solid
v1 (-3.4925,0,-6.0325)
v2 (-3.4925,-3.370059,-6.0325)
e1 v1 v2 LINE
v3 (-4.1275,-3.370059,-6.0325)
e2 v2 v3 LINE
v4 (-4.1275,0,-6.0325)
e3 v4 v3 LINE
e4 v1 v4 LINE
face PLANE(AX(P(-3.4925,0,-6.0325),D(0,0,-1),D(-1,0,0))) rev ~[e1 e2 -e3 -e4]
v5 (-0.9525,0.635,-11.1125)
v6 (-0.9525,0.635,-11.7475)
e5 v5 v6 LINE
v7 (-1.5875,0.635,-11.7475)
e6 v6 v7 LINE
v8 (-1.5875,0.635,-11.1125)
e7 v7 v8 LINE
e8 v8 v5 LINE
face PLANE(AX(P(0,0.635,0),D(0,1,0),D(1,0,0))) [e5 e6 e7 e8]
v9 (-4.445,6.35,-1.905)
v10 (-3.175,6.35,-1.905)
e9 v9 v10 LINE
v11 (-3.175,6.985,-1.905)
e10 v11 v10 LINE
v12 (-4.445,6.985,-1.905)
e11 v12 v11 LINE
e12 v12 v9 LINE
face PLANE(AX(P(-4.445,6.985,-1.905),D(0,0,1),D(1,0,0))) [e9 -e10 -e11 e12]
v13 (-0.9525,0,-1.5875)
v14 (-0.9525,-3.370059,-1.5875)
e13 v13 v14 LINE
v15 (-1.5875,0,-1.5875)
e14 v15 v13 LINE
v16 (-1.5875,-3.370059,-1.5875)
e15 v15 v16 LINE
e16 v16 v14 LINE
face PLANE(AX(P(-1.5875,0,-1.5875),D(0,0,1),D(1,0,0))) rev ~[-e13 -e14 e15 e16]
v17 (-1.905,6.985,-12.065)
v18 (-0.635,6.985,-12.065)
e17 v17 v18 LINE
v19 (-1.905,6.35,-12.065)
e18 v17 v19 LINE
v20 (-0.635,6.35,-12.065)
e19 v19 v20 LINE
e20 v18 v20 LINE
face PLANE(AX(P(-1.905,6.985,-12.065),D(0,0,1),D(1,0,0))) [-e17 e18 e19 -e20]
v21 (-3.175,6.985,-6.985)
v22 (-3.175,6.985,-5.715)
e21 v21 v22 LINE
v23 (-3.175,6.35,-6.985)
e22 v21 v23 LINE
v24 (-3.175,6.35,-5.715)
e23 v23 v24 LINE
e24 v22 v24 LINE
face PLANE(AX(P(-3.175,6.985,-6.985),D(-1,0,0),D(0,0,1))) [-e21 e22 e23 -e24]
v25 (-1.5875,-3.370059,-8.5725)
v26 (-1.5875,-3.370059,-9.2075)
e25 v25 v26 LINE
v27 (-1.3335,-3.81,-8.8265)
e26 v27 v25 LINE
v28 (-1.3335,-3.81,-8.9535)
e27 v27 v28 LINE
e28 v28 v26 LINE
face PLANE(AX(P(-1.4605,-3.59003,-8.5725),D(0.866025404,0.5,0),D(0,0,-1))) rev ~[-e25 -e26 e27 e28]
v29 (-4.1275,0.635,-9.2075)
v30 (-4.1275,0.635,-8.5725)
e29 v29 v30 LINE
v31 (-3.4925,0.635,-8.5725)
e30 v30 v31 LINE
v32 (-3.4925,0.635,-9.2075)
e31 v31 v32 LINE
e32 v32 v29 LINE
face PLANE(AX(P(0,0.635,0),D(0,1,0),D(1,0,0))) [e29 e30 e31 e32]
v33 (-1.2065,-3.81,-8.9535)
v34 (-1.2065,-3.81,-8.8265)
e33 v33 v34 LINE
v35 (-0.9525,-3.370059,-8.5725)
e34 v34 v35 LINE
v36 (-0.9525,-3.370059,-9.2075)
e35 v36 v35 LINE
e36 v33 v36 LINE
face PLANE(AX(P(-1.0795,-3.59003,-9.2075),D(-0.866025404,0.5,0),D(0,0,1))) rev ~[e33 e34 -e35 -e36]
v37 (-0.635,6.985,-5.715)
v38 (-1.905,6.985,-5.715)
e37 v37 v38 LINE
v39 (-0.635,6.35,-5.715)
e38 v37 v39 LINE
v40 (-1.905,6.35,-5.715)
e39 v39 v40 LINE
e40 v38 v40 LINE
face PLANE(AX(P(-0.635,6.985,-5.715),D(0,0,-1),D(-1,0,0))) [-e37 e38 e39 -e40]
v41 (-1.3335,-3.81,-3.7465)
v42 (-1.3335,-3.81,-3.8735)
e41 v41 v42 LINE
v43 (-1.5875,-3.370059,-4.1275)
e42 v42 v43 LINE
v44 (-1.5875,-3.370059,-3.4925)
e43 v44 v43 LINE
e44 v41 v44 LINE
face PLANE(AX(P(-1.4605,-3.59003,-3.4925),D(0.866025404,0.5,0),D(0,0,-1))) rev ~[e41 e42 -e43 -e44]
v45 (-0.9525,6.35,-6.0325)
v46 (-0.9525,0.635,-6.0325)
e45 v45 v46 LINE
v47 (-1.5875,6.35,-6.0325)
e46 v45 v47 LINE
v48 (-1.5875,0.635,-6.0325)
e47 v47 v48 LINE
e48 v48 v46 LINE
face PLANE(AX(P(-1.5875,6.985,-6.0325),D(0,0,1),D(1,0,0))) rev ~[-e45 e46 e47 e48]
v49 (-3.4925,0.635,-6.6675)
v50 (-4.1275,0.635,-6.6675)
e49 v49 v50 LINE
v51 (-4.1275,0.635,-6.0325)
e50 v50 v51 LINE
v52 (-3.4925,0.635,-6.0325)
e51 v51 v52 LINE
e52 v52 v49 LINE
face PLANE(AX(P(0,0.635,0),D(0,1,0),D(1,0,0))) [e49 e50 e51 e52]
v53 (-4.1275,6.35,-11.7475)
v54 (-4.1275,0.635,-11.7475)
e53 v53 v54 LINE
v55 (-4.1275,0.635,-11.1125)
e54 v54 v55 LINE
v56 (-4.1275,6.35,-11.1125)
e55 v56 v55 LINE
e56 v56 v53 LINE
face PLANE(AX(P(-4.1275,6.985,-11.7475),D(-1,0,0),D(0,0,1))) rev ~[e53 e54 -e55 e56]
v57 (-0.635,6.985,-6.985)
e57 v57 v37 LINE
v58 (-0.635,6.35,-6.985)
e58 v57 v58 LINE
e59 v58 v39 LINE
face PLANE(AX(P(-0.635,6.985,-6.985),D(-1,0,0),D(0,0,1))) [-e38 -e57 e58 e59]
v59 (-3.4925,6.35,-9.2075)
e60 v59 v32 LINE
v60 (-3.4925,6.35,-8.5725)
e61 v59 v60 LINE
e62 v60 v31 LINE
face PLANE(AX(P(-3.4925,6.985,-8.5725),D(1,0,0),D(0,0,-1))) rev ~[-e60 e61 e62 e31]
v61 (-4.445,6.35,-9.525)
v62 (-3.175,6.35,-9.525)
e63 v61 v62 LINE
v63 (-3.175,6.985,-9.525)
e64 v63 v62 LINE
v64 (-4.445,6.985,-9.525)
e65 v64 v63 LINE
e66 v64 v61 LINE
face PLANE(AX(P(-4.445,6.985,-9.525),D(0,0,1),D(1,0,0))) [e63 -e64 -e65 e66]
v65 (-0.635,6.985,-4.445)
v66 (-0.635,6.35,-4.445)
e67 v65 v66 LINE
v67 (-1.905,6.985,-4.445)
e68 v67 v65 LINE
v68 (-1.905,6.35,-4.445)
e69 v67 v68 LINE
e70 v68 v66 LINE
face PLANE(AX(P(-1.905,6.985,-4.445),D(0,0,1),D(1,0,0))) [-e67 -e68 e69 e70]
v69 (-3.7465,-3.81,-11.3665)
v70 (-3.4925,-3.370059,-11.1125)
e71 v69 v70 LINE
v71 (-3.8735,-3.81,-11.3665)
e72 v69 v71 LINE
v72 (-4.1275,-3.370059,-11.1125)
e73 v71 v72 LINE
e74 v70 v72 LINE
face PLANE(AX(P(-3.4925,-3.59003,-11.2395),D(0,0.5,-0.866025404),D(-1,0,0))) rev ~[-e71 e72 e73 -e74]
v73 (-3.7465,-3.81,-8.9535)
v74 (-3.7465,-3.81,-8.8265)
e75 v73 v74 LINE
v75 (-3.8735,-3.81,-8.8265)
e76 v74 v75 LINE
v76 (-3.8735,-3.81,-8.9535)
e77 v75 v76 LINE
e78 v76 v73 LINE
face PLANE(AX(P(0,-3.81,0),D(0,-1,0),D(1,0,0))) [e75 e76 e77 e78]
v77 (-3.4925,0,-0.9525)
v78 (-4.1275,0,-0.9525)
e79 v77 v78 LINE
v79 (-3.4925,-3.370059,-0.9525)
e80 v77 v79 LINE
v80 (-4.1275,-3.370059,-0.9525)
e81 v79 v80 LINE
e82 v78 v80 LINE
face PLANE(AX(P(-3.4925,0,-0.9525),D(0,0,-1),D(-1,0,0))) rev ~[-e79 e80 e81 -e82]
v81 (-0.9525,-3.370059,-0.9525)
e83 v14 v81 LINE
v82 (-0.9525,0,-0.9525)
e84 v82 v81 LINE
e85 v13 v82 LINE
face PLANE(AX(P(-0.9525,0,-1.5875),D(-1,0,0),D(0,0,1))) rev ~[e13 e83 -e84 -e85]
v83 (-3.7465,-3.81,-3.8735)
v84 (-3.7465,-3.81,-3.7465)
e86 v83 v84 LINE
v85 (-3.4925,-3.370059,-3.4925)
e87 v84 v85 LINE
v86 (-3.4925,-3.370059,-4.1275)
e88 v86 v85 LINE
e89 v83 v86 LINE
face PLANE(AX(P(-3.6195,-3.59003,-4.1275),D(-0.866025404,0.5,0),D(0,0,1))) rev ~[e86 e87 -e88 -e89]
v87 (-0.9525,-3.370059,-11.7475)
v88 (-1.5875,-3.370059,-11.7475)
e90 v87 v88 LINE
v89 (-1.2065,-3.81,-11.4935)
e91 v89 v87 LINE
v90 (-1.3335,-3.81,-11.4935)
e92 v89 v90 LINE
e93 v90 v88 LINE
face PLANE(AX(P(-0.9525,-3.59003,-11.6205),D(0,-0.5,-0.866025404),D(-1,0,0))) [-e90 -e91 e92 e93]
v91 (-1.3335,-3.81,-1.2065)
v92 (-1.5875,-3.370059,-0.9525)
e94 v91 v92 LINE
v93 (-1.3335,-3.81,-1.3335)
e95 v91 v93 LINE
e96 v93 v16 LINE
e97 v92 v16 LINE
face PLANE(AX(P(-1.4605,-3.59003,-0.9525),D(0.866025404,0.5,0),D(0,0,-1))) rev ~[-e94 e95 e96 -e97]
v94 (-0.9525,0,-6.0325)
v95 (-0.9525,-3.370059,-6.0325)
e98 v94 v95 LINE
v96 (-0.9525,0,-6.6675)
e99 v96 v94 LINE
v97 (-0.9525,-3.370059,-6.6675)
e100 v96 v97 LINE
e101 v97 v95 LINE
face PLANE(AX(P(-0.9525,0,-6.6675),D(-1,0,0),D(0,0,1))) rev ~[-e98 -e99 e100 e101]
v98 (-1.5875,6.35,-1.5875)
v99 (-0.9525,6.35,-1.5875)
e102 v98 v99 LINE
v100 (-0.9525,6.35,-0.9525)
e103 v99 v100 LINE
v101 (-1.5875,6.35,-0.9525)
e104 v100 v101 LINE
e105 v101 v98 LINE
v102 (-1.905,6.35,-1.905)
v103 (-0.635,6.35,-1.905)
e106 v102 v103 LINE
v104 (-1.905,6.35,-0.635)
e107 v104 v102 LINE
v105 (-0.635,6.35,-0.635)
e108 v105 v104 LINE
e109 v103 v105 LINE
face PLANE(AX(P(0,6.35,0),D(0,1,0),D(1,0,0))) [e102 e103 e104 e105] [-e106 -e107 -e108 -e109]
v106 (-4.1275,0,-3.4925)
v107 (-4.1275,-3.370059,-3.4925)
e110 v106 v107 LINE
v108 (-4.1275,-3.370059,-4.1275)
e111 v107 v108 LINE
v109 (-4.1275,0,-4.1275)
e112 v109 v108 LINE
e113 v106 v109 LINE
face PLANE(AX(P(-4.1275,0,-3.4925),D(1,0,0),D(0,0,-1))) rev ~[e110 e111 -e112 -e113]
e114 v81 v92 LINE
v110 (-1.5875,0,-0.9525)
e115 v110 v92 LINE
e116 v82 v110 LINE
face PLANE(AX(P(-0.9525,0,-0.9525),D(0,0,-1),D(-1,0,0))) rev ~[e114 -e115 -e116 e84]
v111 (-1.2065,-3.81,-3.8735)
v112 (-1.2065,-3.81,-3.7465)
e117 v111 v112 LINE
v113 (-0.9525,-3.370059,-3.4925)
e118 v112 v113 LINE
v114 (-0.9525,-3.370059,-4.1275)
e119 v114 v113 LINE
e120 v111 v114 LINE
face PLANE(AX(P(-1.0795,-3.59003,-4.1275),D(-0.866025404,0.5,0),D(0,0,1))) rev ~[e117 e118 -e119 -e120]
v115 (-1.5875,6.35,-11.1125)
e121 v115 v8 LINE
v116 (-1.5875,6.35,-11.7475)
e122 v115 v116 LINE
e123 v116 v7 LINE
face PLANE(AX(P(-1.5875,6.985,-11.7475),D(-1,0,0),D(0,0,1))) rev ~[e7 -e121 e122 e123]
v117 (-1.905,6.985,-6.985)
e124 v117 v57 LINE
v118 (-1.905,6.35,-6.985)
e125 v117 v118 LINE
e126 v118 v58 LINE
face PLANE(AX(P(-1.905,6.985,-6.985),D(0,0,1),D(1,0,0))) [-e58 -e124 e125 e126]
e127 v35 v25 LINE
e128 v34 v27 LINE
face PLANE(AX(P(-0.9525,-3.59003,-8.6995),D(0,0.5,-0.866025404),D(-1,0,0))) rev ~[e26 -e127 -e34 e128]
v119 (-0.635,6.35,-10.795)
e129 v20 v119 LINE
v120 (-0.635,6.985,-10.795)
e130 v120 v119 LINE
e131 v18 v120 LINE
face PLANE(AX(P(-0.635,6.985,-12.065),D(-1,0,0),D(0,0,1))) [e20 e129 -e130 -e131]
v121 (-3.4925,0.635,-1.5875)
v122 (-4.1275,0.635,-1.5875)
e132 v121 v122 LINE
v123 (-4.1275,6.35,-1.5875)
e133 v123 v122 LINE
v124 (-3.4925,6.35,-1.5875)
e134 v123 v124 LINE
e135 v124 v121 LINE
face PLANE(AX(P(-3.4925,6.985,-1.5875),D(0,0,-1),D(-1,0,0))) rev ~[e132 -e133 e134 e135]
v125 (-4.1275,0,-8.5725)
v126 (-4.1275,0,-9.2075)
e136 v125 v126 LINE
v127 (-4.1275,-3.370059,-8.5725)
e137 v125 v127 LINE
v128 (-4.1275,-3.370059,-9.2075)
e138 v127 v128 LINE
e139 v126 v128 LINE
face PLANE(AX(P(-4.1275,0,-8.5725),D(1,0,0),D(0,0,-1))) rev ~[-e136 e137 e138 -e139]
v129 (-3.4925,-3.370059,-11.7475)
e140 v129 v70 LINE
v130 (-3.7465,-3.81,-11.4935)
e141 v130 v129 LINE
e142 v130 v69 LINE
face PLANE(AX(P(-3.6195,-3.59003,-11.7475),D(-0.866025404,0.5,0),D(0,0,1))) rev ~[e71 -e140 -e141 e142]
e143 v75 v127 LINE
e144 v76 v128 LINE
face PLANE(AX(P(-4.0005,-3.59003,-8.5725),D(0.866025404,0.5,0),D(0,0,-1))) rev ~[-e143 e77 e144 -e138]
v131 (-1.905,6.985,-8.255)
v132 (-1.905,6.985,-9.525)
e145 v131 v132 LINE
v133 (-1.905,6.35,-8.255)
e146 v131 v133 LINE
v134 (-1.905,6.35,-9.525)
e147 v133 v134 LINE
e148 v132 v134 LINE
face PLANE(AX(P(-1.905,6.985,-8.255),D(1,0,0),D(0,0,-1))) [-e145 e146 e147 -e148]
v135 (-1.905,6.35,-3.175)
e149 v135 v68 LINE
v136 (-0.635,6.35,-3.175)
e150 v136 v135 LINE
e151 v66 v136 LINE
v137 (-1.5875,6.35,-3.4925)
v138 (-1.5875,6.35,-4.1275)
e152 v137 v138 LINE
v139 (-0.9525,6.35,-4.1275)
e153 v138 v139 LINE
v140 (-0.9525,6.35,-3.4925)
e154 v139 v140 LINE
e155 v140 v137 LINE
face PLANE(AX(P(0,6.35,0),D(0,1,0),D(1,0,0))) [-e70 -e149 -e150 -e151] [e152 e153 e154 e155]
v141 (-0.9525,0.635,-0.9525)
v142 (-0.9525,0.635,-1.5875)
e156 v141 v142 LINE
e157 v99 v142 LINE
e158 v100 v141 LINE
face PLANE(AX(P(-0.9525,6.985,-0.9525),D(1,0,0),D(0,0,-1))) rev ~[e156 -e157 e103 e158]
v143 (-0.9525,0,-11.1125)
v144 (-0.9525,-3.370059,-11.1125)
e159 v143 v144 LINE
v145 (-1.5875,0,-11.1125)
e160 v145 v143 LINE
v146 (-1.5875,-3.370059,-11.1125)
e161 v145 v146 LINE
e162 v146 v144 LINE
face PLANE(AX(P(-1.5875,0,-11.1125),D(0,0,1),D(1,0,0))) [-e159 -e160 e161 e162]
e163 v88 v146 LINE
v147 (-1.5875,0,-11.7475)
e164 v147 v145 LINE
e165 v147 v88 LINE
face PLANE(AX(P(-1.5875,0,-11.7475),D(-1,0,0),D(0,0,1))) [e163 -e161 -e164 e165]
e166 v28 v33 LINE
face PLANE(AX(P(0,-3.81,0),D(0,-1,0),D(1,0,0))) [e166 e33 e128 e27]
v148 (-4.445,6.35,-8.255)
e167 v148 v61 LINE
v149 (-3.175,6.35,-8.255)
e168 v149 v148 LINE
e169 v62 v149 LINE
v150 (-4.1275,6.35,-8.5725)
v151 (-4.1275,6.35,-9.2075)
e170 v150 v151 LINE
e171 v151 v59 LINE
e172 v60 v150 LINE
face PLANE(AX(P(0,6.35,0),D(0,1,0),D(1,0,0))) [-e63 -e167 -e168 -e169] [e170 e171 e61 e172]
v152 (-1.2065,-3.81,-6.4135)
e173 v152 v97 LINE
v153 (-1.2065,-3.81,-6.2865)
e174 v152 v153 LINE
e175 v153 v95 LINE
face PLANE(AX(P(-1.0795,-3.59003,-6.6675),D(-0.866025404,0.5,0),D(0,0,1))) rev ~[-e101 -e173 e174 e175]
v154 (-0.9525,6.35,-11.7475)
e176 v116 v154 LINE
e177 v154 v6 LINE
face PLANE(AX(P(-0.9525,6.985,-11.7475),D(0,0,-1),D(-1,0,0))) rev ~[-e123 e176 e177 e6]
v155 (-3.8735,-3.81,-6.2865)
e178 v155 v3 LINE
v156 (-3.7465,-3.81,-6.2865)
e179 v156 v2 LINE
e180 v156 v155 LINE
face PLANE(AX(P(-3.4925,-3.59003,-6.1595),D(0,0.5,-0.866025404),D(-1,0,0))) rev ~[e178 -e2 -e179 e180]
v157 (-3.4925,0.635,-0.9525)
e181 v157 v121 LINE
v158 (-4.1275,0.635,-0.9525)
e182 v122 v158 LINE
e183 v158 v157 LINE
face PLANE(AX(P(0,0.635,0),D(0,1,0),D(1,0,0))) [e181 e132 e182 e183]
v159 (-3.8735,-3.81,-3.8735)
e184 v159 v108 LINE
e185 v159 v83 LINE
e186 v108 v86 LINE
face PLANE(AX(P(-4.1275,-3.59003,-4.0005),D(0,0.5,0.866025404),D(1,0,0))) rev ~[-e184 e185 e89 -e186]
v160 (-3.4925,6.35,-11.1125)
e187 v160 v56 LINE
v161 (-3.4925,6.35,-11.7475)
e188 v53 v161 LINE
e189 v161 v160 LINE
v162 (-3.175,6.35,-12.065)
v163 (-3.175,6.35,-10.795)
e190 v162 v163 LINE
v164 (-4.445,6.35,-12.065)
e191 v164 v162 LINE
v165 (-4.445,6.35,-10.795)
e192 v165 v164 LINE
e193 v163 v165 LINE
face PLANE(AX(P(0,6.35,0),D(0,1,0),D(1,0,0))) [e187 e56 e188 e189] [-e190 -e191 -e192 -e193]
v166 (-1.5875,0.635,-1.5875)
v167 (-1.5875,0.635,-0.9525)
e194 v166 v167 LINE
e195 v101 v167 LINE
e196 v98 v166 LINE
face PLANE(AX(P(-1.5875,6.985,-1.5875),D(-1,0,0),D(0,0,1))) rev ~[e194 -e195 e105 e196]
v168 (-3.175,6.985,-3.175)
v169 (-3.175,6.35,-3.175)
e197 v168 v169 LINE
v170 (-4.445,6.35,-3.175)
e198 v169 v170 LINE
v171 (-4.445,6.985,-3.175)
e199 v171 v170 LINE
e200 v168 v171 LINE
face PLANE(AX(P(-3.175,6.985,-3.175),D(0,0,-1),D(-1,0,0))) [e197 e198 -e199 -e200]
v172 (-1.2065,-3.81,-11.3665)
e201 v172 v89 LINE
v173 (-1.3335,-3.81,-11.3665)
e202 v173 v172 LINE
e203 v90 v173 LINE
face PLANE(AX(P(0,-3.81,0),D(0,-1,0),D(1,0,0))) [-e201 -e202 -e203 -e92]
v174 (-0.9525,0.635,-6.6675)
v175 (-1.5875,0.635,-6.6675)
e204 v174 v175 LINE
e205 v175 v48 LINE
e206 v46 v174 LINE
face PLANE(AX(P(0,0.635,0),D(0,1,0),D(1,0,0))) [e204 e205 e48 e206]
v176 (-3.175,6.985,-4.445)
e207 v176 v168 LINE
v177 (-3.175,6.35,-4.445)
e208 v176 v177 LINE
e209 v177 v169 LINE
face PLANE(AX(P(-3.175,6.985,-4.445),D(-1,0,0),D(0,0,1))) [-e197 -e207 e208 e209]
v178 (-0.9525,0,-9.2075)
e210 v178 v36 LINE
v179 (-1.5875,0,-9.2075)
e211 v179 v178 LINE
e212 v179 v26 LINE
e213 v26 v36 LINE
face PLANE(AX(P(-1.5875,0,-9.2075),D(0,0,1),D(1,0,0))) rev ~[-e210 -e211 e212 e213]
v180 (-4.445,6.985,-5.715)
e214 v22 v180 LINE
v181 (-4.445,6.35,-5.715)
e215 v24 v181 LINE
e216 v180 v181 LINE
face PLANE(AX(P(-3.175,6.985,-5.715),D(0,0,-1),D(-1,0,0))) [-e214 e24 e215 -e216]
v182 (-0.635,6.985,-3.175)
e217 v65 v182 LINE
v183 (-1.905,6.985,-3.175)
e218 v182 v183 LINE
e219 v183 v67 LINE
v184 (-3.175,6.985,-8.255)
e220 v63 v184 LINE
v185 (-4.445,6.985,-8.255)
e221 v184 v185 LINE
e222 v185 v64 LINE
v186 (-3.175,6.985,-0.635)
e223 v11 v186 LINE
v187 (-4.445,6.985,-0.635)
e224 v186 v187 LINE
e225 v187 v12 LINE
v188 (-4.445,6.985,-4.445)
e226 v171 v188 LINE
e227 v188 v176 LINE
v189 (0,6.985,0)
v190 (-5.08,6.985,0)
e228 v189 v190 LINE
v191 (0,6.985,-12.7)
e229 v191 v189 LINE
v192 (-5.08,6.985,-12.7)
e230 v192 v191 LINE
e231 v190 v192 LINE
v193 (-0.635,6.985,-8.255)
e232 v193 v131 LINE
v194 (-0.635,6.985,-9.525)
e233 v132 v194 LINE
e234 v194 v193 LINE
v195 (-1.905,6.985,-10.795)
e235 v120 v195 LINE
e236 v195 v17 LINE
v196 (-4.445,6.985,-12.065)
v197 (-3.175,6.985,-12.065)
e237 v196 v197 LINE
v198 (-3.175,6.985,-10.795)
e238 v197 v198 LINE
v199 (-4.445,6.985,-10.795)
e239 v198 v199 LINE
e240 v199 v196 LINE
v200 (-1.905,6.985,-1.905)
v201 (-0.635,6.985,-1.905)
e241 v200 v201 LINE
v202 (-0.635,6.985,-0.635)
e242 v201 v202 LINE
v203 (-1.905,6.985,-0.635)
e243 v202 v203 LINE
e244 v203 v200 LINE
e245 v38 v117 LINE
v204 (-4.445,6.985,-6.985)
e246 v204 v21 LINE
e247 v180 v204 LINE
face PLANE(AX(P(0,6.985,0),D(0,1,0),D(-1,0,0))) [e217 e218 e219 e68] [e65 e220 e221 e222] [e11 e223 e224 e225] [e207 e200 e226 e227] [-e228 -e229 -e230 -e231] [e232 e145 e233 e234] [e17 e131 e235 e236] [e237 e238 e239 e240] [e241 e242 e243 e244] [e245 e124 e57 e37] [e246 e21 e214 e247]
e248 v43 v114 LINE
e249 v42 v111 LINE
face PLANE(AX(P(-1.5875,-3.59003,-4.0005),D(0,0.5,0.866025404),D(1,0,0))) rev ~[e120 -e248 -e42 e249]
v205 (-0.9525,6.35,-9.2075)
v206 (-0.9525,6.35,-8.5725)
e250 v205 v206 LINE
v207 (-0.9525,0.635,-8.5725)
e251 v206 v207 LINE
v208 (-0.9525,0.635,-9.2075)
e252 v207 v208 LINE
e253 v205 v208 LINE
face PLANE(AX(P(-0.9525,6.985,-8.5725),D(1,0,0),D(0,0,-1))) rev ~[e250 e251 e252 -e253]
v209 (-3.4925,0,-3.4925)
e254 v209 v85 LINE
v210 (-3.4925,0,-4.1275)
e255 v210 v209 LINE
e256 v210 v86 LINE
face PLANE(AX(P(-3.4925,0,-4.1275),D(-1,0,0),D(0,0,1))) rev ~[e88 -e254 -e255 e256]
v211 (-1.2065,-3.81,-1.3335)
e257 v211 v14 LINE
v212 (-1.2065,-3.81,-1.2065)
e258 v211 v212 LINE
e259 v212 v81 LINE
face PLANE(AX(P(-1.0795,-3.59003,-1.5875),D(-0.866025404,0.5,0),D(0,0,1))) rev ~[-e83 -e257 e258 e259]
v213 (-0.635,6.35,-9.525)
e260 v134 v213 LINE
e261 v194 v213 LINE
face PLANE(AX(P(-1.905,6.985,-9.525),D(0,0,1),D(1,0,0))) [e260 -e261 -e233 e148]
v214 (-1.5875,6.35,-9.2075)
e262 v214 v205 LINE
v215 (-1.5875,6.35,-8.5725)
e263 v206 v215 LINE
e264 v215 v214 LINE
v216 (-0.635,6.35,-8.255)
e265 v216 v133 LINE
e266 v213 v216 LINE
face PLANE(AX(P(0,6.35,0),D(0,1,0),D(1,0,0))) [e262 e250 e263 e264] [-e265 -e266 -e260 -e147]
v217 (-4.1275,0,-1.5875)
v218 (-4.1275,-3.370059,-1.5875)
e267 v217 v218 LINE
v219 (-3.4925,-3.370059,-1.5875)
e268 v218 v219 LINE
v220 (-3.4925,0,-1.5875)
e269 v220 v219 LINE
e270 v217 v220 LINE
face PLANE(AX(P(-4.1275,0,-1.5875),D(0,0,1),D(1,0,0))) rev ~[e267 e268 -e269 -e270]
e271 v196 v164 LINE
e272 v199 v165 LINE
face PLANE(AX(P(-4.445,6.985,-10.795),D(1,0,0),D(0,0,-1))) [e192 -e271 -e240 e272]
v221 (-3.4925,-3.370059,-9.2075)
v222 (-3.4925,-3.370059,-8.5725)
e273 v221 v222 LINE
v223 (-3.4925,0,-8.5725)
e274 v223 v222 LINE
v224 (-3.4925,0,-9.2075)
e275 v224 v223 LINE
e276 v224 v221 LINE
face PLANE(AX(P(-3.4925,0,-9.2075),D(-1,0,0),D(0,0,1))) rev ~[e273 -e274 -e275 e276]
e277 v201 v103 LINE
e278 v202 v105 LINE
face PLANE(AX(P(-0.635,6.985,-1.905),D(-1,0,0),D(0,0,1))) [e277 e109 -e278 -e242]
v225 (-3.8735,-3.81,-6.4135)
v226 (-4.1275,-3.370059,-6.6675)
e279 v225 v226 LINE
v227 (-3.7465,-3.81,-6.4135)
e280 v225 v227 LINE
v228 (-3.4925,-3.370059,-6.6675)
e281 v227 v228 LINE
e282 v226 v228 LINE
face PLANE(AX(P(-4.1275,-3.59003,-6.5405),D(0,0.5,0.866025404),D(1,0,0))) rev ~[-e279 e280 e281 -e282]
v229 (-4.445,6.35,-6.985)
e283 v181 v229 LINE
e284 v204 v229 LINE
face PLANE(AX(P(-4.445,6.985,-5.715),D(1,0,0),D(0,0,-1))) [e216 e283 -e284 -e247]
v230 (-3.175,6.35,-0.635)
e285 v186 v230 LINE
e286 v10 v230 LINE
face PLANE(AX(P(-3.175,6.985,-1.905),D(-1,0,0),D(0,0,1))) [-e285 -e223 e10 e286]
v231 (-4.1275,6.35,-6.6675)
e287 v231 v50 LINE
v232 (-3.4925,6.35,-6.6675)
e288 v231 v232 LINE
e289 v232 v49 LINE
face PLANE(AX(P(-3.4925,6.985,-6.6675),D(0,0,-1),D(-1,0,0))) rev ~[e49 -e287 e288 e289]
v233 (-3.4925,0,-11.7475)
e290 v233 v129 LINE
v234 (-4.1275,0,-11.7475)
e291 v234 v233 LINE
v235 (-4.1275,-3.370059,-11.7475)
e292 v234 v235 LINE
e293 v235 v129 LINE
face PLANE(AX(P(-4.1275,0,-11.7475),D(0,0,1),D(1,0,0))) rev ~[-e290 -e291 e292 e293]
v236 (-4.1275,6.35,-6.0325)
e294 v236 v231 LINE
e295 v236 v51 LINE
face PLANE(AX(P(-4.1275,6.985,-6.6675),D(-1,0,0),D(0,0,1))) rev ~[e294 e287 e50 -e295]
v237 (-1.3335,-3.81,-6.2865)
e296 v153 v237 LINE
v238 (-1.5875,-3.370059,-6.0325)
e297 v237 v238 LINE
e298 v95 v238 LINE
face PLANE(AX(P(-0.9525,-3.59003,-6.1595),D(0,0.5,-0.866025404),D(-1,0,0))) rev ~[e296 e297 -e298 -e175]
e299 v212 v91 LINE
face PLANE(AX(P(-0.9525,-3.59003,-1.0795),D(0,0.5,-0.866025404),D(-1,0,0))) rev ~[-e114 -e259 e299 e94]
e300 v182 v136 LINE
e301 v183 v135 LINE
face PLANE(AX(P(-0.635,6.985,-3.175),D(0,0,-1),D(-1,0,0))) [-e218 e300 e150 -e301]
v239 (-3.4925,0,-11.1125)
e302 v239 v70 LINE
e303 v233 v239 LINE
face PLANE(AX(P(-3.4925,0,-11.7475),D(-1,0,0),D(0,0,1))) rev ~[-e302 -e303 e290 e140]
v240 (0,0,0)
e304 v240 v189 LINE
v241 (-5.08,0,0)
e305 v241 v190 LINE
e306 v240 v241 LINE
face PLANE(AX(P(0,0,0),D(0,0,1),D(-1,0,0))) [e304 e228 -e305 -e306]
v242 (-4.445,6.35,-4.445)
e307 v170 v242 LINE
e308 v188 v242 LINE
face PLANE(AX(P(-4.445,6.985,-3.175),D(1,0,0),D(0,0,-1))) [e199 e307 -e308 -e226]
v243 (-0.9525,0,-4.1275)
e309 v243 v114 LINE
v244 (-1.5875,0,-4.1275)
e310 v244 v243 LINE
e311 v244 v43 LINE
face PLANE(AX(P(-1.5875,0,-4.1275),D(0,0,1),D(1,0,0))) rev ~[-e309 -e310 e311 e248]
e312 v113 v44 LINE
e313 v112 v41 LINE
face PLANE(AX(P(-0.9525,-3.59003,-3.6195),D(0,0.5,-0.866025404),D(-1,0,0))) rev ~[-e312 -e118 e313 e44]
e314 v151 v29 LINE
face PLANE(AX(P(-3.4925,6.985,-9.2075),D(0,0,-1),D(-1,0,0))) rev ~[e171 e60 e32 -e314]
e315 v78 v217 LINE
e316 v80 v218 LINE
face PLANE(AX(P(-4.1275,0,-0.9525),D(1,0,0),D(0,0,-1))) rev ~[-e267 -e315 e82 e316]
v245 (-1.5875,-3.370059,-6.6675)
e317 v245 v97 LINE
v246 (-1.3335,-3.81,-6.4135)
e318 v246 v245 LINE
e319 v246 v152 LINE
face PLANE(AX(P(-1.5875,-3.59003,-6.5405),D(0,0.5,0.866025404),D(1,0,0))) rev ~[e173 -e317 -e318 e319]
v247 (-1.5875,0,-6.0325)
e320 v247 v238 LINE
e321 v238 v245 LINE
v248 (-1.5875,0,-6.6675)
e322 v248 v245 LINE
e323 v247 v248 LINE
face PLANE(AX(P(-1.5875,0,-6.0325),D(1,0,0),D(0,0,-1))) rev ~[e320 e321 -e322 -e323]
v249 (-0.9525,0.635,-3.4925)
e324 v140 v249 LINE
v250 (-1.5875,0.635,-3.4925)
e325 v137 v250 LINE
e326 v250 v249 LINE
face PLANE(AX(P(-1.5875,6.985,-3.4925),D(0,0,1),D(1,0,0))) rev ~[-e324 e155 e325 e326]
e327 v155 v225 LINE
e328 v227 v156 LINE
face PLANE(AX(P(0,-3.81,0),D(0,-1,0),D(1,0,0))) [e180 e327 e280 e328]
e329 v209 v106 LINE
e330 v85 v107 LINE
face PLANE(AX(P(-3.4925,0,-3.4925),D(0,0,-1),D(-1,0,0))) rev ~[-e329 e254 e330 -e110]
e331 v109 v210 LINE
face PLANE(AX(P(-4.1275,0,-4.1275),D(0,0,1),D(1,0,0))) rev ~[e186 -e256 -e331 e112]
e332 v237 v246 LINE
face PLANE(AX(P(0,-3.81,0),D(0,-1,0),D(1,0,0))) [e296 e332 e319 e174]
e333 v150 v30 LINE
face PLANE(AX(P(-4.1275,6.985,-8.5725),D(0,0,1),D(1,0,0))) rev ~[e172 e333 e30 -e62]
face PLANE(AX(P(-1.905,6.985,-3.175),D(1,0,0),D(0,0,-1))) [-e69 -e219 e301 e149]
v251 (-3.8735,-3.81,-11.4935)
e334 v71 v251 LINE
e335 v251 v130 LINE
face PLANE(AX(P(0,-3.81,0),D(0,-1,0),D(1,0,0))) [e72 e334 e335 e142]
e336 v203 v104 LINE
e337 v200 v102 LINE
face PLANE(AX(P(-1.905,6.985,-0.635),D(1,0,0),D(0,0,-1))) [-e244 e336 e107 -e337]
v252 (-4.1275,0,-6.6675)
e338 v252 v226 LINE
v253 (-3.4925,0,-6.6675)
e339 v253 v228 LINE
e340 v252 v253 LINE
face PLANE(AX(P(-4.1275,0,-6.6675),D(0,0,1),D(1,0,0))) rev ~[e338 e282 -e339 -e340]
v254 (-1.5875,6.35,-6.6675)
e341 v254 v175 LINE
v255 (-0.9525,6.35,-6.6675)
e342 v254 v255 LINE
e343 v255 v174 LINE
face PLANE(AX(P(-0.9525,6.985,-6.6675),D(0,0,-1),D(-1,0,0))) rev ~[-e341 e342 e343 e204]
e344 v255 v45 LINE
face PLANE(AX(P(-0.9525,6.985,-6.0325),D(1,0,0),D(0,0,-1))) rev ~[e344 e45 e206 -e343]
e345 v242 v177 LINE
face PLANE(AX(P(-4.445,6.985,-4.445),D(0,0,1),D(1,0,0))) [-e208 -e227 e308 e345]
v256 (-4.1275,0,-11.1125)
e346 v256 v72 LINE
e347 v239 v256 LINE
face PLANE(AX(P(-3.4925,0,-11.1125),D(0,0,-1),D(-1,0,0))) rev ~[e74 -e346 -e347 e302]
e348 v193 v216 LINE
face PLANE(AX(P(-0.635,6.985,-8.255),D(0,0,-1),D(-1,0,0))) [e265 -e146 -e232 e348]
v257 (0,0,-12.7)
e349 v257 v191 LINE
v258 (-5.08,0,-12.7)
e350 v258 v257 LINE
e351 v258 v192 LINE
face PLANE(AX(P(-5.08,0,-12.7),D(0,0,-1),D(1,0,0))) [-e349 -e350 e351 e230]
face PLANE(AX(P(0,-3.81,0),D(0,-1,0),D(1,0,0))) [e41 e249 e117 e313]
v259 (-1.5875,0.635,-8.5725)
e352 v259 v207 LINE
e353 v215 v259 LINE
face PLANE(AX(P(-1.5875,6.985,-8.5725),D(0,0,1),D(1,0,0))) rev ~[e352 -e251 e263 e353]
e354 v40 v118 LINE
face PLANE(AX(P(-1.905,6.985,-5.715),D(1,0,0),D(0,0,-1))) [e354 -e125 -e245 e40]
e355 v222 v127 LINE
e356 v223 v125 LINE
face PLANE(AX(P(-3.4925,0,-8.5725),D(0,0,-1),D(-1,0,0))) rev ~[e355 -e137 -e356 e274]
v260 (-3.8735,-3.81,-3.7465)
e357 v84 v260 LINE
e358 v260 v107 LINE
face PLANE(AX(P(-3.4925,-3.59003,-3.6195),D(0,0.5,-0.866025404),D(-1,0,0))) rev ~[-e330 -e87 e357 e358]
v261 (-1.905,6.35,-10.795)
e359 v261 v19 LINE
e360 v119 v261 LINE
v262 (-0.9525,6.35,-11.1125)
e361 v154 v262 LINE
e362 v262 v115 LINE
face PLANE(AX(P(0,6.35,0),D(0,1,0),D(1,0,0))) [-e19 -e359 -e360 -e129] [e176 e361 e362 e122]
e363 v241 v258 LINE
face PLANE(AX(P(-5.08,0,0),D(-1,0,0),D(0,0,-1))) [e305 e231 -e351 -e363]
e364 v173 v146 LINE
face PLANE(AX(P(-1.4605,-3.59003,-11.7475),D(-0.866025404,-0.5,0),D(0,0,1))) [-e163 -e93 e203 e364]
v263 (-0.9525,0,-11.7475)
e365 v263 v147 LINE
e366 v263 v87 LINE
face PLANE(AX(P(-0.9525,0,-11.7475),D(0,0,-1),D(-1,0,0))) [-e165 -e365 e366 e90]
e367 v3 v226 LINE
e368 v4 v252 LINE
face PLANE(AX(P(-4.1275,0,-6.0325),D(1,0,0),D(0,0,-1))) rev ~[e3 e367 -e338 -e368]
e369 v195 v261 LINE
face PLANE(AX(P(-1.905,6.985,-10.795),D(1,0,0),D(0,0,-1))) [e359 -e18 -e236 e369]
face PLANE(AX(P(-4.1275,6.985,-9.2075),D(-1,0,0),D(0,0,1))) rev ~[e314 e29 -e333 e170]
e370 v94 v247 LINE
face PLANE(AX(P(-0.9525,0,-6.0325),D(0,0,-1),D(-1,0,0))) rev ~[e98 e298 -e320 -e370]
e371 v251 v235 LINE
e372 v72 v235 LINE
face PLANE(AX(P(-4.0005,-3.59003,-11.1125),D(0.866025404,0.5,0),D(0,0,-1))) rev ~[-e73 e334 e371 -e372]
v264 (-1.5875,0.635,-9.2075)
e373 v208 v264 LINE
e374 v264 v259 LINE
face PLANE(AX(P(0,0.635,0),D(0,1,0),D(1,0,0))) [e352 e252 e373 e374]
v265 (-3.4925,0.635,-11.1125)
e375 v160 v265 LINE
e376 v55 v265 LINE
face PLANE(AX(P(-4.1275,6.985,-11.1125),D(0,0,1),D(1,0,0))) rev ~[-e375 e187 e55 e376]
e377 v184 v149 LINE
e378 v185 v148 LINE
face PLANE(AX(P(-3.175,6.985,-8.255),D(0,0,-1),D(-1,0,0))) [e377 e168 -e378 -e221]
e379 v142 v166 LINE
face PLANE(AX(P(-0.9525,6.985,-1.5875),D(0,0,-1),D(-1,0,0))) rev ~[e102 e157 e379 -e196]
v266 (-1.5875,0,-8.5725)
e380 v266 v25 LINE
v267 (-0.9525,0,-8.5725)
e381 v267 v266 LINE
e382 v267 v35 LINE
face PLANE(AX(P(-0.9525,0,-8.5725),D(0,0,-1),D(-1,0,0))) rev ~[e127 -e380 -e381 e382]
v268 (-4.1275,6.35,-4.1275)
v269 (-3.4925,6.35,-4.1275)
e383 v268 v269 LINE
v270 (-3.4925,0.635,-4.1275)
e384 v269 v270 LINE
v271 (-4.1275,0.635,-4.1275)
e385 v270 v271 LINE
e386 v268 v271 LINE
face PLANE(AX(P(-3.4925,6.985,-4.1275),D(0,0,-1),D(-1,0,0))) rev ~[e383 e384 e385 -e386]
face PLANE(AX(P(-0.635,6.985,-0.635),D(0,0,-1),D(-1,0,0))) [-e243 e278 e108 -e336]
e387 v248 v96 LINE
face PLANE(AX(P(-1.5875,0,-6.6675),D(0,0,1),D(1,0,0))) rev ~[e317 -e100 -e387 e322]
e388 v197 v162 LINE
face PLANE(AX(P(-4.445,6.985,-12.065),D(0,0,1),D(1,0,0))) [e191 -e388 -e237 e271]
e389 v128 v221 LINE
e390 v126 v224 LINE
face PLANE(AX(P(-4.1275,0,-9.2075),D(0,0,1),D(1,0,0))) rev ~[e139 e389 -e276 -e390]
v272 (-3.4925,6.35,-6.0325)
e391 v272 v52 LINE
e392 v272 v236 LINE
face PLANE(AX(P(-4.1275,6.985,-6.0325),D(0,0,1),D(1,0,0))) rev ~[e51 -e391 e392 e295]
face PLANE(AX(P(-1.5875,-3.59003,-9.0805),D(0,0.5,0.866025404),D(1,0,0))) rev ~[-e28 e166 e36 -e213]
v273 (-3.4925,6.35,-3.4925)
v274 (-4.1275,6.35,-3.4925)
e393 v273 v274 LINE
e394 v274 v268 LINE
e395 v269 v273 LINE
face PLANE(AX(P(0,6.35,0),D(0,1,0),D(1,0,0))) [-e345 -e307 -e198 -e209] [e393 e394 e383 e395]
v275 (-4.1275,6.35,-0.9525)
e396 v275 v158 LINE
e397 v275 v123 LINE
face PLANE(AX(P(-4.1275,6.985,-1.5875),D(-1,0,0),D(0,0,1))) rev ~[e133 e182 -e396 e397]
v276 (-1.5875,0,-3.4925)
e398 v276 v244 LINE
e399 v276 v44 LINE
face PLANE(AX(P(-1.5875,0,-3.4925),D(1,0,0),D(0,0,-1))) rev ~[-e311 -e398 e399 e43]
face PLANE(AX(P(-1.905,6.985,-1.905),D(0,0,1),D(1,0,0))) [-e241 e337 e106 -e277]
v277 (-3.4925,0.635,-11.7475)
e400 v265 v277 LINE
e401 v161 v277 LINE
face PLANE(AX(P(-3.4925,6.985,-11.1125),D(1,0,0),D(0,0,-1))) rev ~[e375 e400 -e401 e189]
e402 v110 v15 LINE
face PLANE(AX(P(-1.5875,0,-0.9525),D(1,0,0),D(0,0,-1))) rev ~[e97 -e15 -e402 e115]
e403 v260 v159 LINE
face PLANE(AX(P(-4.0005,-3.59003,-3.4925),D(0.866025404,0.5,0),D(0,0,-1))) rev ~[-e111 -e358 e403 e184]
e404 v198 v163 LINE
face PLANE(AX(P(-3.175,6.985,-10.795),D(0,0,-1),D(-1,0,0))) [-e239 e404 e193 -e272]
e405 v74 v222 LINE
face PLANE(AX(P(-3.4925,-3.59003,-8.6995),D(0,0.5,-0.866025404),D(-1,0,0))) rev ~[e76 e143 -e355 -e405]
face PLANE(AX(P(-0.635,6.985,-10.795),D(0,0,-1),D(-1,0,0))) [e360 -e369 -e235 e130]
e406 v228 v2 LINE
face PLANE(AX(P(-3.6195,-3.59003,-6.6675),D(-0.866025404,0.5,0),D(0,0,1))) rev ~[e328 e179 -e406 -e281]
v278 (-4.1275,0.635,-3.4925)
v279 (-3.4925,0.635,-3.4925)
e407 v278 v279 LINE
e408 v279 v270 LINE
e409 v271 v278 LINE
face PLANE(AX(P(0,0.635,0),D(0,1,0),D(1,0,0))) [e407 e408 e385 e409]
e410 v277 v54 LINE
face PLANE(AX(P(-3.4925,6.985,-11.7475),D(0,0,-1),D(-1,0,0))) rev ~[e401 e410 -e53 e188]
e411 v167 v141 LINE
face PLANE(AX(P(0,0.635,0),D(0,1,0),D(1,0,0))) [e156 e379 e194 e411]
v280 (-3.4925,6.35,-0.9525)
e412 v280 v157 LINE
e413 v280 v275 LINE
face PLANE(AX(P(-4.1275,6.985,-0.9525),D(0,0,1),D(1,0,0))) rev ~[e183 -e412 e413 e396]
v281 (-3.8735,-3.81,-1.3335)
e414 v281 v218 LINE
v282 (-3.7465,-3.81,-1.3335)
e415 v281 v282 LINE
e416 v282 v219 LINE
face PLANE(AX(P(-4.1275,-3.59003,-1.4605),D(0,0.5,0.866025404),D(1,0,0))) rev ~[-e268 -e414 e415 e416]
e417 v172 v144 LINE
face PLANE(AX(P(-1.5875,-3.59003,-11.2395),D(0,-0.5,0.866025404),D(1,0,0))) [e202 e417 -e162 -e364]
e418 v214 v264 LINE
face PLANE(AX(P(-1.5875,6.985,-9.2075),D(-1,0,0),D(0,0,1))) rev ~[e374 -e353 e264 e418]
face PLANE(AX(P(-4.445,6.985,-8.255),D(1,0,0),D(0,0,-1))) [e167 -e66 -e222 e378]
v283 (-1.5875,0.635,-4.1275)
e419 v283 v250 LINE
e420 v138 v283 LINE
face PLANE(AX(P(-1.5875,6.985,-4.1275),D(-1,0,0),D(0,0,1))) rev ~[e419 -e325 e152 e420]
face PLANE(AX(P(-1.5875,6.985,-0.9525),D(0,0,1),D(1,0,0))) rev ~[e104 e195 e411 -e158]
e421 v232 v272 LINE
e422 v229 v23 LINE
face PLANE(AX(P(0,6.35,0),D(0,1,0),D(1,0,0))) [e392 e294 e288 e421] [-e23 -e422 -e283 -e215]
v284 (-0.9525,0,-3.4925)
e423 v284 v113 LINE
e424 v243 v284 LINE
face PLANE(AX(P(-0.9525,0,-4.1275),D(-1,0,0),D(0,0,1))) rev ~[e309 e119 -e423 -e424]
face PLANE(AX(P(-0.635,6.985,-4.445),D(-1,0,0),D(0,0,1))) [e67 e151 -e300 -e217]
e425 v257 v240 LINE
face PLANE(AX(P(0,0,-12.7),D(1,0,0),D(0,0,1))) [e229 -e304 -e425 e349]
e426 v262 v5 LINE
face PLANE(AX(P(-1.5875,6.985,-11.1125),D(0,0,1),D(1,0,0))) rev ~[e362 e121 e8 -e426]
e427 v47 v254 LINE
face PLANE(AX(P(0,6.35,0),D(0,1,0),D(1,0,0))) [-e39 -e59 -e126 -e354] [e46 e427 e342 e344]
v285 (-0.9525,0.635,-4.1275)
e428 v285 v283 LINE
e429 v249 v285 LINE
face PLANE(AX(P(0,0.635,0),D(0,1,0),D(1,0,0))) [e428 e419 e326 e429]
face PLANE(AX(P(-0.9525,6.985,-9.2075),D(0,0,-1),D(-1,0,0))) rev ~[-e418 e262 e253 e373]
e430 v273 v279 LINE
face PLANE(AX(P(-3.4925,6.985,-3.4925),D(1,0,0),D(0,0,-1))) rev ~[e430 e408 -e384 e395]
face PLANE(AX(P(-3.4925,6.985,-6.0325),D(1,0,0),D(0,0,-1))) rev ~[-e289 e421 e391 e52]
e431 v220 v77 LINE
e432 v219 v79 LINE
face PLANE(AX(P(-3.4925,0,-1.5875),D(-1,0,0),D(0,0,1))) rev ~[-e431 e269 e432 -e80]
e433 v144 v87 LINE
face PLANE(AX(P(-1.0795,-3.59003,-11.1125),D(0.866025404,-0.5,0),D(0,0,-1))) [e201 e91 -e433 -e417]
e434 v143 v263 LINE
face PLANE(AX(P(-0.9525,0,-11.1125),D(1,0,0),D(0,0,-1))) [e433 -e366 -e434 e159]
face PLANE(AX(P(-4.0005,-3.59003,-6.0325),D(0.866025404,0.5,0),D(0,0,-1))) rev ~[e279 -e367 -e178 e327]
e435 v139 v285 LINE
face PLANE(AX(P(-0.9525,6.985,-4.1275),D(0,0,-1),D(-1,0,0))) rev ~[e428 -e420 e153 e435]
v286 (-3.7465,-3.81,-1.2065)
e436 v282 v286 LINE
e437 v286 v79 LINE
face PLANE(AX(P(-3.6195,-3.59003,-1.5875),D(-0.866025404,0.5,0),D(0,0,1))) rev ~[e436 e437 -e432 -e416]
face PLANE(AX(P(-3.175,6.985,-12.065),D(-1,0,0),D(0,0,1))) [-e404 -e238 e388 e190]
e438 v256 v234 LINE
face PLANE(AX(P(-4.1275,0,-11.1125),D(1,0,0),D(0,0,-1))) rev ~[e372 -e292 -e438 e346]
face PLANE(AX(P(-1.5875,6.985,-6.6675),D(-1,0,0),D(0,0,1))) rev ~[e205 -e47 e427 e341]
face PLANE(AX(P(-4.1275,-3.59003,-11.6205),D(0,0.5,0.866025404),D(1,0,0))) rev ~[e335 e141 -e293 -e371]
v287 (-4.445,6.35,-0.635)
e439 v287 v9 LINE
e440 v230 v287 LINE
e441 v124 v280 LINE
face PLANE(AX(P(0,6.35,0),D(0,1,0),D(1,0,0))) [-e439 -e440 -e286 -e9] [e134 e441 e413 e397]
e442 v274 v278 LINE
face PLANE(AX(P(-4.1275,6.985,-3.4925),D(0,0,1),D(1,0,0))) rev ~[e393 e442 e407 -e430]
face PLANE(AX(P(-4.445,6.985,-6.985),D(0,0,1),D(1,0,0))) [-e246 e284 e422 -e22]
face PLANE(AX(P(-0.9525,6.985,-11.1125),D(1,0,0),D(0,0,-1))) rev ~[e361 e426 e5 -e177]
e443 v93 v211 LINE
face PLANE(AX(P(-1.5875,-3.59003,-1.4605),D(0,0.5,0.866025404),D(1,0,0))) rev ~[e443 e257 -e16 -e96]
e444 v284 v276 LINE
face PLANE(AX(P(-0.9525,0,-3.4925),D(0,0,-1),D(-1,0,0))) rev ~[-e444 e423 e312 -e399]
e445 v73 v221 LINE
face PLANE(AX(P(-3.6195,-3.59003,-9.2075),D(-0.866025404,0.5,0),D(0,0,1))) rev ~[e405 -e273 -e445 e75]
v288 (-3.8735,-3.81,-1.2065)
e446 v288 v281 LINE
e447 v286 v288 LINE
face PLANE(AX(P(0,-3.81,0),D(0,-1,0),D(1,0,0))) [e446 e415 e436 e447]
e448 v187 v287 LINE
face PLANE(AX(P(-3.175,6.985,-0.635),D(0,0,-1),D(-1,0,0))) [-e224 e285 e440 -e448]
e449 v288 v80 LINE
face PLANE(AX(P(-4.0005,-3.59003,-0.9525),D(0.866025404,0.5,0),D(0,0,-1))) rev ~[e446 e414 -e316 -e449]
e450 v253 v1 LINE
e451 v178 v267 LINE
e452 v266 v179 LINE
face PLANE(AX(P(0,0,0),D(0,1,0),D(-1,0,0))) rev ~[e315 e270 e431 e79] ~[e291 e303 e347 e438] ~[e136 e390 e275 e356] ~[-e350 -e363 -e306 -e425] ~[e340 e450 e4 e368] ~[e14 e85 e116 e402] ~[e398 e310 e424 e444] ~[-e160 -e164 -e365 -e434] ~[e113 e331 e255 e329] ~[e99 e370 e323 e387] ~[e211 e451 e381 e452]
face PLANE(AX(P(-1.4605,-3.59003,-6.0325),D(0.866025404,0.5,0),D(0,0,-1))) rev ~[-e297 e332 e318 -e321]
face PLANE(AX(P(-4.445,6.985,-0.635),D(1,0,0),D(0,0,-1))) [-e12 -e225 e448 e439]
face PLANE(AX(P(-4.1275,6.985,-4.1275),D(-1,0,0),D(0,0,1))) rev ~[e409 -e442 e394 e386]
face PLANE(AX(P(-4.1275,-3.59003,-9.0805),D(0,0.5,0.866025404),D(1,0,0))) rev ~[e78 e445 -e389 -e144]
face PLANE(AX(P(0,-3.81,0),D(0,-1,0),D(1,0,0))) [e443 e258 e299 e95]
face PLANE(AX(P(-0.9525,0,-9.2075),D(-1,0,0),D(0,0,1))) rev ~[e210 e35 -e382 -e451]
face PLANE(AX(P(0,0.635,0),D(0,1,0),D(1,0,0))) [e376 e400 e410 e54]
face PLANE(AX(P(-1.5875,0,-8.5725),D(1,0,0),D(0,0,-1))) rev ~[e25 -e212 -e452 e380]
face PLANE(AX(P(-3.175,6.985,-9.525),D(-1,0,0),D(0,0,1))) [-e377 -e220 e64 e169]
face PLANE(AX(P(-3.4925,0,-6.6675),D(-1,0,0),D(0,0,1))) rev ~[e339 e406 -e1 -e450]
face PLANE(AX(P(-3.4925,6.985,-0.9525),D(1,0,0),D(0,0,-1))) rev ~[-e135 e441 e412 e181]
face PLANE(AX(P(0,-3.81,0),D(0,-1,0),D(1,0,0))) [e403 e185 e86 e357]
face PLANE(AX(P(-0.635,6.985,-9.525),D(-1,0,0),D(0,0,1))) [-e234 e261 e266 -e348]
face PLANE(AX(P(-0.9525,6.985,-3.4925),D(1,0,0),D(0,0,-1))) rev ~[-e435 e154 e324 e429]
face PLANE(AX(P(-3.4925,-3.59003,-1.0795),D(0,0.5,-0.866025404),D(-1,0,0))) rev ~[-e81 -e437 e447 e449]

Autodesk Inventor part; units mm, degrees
ref_plane "YZ Plane" through (0, 0, 0) normal (1, 0, 0) x (0, 1, 0)
ref_plane "XZ Plane" through (0, 0, 0) normal (0, 1, 0) x (-1, 0, 0)
ref_plane "XY Plane" through (0, 0, 0) normal (0, 0, 1) x (1, 0, 0)
sketch "Náčrt1" plane through (0, 0, 0) normal (0, 1, 0) x (-1, 0, 0)
  line L0 (0, 0) -> (5.08, 0)
  line L1 (5.08, 0) -> (5.08, -12.7)
  line L2 (5.08, -12.7) -> (0, -12.7)
  line L3 (0, -12.7) -> (0, 0)
  dimension "d0" = 5.08
  dimension "d1" = 12.7
extrude "Vysunutí1" add sketch "Náčrt1" along normal blind 6.985
sketch "Náčrt2" plane through (0, 6.985, 0) normal (0, 1, 0) x (1, 0, 0)
  line L0 (-5.08, 0) -> (0, 0) projected
  line L1 (-5.08, 12.7) -> (-5.08, 0) projected
  line L2 (-4.1275, 0.9525) -> (-3.4925, 0.9525)
  line L3 (-3.4925, 0.9525) -> (-3.4925, 1.5875)
  line L4 (-3.4925, 1.5875) -> (-4.1275, 1.5875)
  line L5 (-4.1275, 1.5875) -> (-4.1275, 0.9525)
  line L6 (-4.1275, 3.4925) -> (-3.4925, 3.4925)
  line L7 (-3.4925, 3.4925) -> (-3.4925, 4.1275)
  line L8 (-3.4925, 4.1275) -> (-4.1275, 4.1275)
  line L9 (-4.1275, 4.1275) -> (-4.1275, 3.4925)
  line L10 (-4.1275, 6.0325) -> (-3.4925, 6.0325)
  line L11 (-3.4925, 6.0325) -> (-3.4925, 6.6675)
  line L12 (-3.4925, 6.6675) -> (-4.1275, 6.6675)
  line L13 (-4.1275, 6.6675) -> (-4.1275, 6.0325)
  line L14 (-4.1275, 8.5725) -> (-3.4925, 8.5725)
  line L15 (-3.4925, 8.5725) -> (-3.4925, 9.2075)
  line L16 (-3.4925, 9.2075) -> (-4.1275, 9.2075)
  line L17 (-4.1275, 9.2075) -> (-4.1275, 8.5725)
  line L18 (-4.1275, 11.1125) -> (-3.4925, 11.1125)
  line L19 (-3.4925, 11.1125) -> (-3.4925, 11.7475)
  line L20 (-3.4925, 11.7475) -> (-4.1275, 11.7475)
  line L21 (-4.1275, 11.7475) -> (-4.1275, 11.1125)
  line L22 (-1.5875, 0.9525) -> (-0.9525, 0.9525)
  line L23 (-0.9525, 0.9525) -> (-0.9525, 1.5875)
  line L24 (-0.9525, 1.5875) -> (-1.5875, 1.5875)
  line L25 (-1.5875, 1.5875) -> (-1.5875, 0.9525)
  line L26 (-1.5875, 3.4925) -> (-0.9525, 3.4925)
  line L27 (-0.9525, 3.4925) -> (-0.9525, 4.1275)
  line L28 (-0.9525, 4.1275) -> (-1.5875, 4.1275)
  line L29 (-1.5875, 4.1275) -> (-1.5875, 3.4925)
  line L30 (-1.5875, 6.0325) -> (-0.9525, 6.0325)
  line L31 (-0.9525, 6.0325) -> (-0.9525, 6.6675)
  line L32 (-0.9525, 6.6675) -> (-1.5875, 6.6675)
  line L33 (-1.5875, 6.6675) -> (-1.5875, 6.0325)
  line L34 (-1.5875, 8.5725) -> (-0.9525, 8.5725)
  line L35 (-0.9525, 8.5725) -> (-0.9525, 9.2075)
  line L36 (-0.9525, 9.2075) -> (-1.5875, 9.2075)
  line L37 (-1.5875, 9.2075) -> (-1.5875, 8.5725)
  line L38 (-1.5875, 11.1125) -> (-0.9525, 11.1125)
  line L39 (-0.9525, 11.1125) -> (-0.9525, 11.7475)
  line L40 (-0.9525, 11.7475) -> (-1.5875, 11.7475)
  line L41 (-1.5875, 11.7475) -> (-1.5875, 11.1125)
  point P0 (-3.81, 1.27)
  dimension "d8" = 2.54
  dimension "d11" = 2.54
  dimension "d17" = 1.27
  dimension "d18" = 1.27
extrude "Vysunutí2" cut sketch "Náčrt2" against normal blind 6.35
sketch "Náčrt3" plane through (0, 6.985, 0) normal (0, 1, 0) x (1, 0, 0)
  line L0 (-0.9525, 9.2075) -> (-0.9525, 8.5725) projected
  line L1 (-0.9525, 8.5725) -> (-1.5875, 8.5725) projected
  line L2 (-1.5875, 8.5725) -> (-1.5875, 9.2075) projected
  line L3 (-1.5875, 9.2075) -> (-0.9525, 9.2075) projected
  line L4 (-0.9525, 4.1275) -> (-0.9525, 3.4925) projected
  line L5 (-0.9525, 3.4925) -> (-1.5875, 3.4925) projected
  line L6 (-1.5875, 3.4925) -> (-1.5875, 4.1275) projected
  line L7 (-1.5875, 4.1275) -> (-0.9525, 4.1275) projected
  line L8 (-3.4925, 11.7475) -> (-3.4925, 11.1125) projected
  line L9 (-3.4925, 11.1125) -> (-4.1275, 11.1125) projected
  line L10 (-4.1275, 11.1125) -> (-4.1275, 11.7475) projected
  line L11 (-4.1275, 11.7475) -> (-3.4925, 11.7475) projected
  line L12 (-3.4925, 6.6675) -> (-3.4925, 6.0325) projected
  line L13 (-3.4925, 6.0325) -> (-4.1275, 6.0325) projected
  line L14 (-4.1275, 6.0325) -> (-4.1275, 6.6675) projected
  line L15 (-4.1275, 6.6675) -> (-3.4925, 6.6675) projected
  line L16 (-3.4925, 1.5875) -> (-3.4925, 0.9525) projected
  line L17 (-3.4925, 0.9525) -> (-4.1275, 0.9525) projected
  line L18 (-4.1275, 0.9525) -> (-4.1275, 1.5875) projected
  line L19 (-4.1275, 1.5875) -> (-3.4925, 1.5875) projected
  line L20 (-3.4925, 4.1275) -> (-3.4925, 3.4925) projected
  line L21 (-3.4925, 3.4925) -> (-4.1275, 3.4925) projected
  line L22 (-4.1275, 3.4925) -> (-4.1275, 4.1275) projected
  line L23 (-4.1275, 4.1275) -> (-3.4925, 4.1275) projected
  line L24 (-3.4925, 9.2075) -> (-3.4925, 8.5725) projected
  line L25 (-3.4925, 8.5725) -> (-4.1275, 8.5725) projected
  line L26 (-4.1275, 8.5725) -> (-4.1275, 9.2075) projected
  line L27 (-4.1275, 9.2075) -> (-3.4925, 9.2075) projected
  line L28 (-0.9525, 1.5875) -> (-0.9525, 0.9525) projected
  line L29 (-0.9525, 0.9525) -> (-1.5875, 0.9525) projected
  line L30 (-1.5875, 0.9525) -> (-1.5875, 1.5875) projected
  line L31 (-1.5875, 1.5875) -> (-0.9525, 1.5875) projected
  line L32 (-0.9525, 6.6675) -> (-0.9525, 6.0325) projected
  line L33 (-0.9525, 6.0325) -> (-1.5875, 6.0325) projected
  line L34 (-1.5875, 6.0325) -> (-1.5875, 6.6675) projected
  line L35 (-1.5875, 6.6675) -> (-0.9525, 6.6675) projected
  line L36 (-0.9525, 11.7475) -> (-0.9525, 11.1125) projected
  line L37 (-0.9525, 11.1125) -> (-1.5875, 11.1125) projected
  line L38 (-1.5875, 11.1125) -> (-1.5875, 11.7475) projected
  line L39 (-1.5875, 11.7475) -> (-0.9525, 11.7475) projected
  line L40 (-5.08, 0) -> (0, 0) projected
  line L41 (-5.08, 12.7) -> (-5.08, 0) projected
  line L42 (-3.175, 0.635) -> (-4.445, 0.635)
  line L43 (-4.445, 0.635) -> (-4.445, 1.905)
  line L44 (-4.445, 1.905) -> (-3.175, 1.905)
  line L45 (-3.175, 1.905) -> (-3.175, 0.635)
  line L46 (-3.175, 0.635) -> (-4.445, 1.905) construction
  line L47 (-4.445, 0.635) -> (-3.175, 1.905) construction
  line L48 (-3.175, 3.175) -> (-4.445, 3.175)
  line L49 (-4.445, 3.175) -> (-4.445, 4.445)
  line L50 (-4.445, 4.445) -> (-3.175, 4.445)
  line L51 (-3.175, 4.445) -> (-3.175, 3.175)
  line L52 (-3.175, 5.715) -> (-4.445, 5.715)
  line L53 (-4.445, 5.715) -> (-4.445, 6.985)
  line L54 (-4.445, 6.985) -> (-3.175, 6.985)
  line L55 (-3.175, 6.985) -> (-3.175, 5.715)
  line L56 (-3.175, 8.255) -> (-4.445, 8.255)
  line L57 (-4.445, 8.255) -> (-4.445, 9.525)
  line L58 (-4.445, 9.525) -> (-3.175, 9.525)
  line L59 (-3.175, 9.525) -> (-3.175, 8.255)
  line L60 (-3.175, 10.795) -> (-4.445, 10.795)
  line L61 (-4.445, 10.795) -> (-4.445, 12.065)
  line L62 (-4.445, 12.065) -> (-3.175, 12.065)
  line L63 (-3.175, 12.065) -> (-3.175, 10.795)
  line L64 (-0.635, 0.635) -> (-1.905, 0.635)
  line L65 (-1.905, 0.635) -> (-1.905, 1.905)
  line L66 (-1.905, 1.905) -> (-0.635, 1.905)
  line L67 (-0.635, 1.905) -> (-0.635, 0.635)
  line L68 (-0.635, 3.175) -> (-1.905, 3.175)
  line L69 (-1.905, 3.175) -> (-1.905, 4.445)
  line L70 (-1.905, 4.445) -> (-0.635, 4.445)
  line L71 (-0.635, 4.445) -> (-0.635, 3.175)
  line L72 (-0.635, 5.715) -> (-1.905, 5.715)
  line L73 (-1.905, 5.715) -> (-1.905, 6.985)
  line L74 (-1.905, 6.985) -> (-0.635, 6.985)
  line L75 (-0.635, 6.985) -> (-0.635, 5.715)
  line L76 (-0.635, 8.255) -> (-1.905, 8.255)
  line L77 (-1.905, 8.255) -> (-1.905, 9.525)
  line L78 (-1.905, 9.525) -> (-0.635, 9.525)
  line L79 (-0.635, 9.525) -> (-0.635, 8.255)
  line L80 (-0.635, 10.795) -> (-1.905, 10.795)
  line L81 (-1.905, 10.795) -> (-1.905, 12.065)
  line L82 (-1.905, 12.065) -> (-0.635, 12.065)
  line L83 (-0.635, 12.065) -> (-0.635, 10.795)
  point P0 (-3.81, 1.27)
  dimension "d21" = 1.27
  dimension "d22" = 1.27
  dimension "d25" = 2.54
  dimension "d28" = 2.54
extrude "Vysunutí3" cut sketch "Náčrt3" against normal blind 0.635
sketch "Náčrt4" plane through (0, 0, 0) normal (0, -1, 0) x (1, 0, 0)
  line L0 (-5.08, -12.7) -> (0, -12.7) projected
  line L1 (0, -12.7) -> (0, 0) projected
  line L2 (-0.9525, -11.1125) -> (-0.9525, -11.7475) projected
  line L3 (-0.9525, -11.7475) -> (-1.5875, -11.7475) projected
  line L4 (-1.5875, -11.1125) -> (-0.9525, -11.1125) projected
  line L5 (-1.5875, -11.7475) -> (-1.5875, -11.1125) projected
  line L6 (-1.5875, -11.1125) -> (-1.5875, -11.7475) projected
  line L7 (-0.9525, -11.1125) -> (-1.5875, -11.1125)
  line L8 (-1.5875, -11.1125) -> (-1.5875, -11.7475)
  line L9 (-1.5875, -11.7475) -> (-0.9525, -11.7475)
  line L10 (-0.9525, -11.7475) -> (-0.9525, -11.1125)
  line L11 (-0.9525, -8.5725) -> (-1.5875, -8.5725)
  line L12 (-1.5875, -8.5725) -> (-1.5875, -9.2075)
  line L13 (-1.5875, -9.2075) -> (-0.9525, -9.2075)
  line L14 (-0.9525, -9.2075) -> (-0.9525, -8.5725)
  line L15 (-0.9525, -6.0325) -> (-1.5875, -6.0325)
  line L16 (-1.5875, -6.0325) -> (-1.5875, -6.6675)
  line L17 (-1.5875, -6.6675) -> (-0.9525, -6.6675)
  line L18 (-0.9525, -6.6675) -> (-0.9525, -6.0325)
  line L19 (-0.9525, -3.4925) -> (-1.5875, -3.4925)
  line L20 (-1.5875, -3.4925) -> (-1.5875, -4.1275)
  line L21 (-1.5875, -4.1275) -> (-0.9525, -4.1275)
  line L22 (-0.9525, -4.1275) -> (-0.9525, -3.4925)
  line L23 (-0.9525, -0.9525) -> (-1.5875, -0.9525)
  line L24 (-1.5875, -0.9525) -> (-1.5875, -1.5875)
  line L25 (-1.5875, -1.5875) -> (-0.9525, -1.5875)
  line L26 (-0.9525, -1.5875) -> (-0.9525, -0.9525)
  line L27 (-3.4925, -11.1125) -> (-4.1275, -11.1125)
  line L28 (-4.1275, -11.1125) -> (-4.1275, -11.7475)
  line L29 (-4.1275, -11.7475) -> (-3.4925, -11.7475)
  line L30 (-3.4925, -11.7475) -> (-3.4925, -11.1125)
  line L31 (-3.4925, -8.5725) -> (-4.1275, -8.5725)
  line L32 (-4.1275, -8.5725) -> (-4.1275, -9.2075)
  line L33 (-4.1275, -9.2075) -> (-3.4925, -9.2075)
  line L34 (-3.4925, -9.2075) -> (-3.4925, -8.5725)
  line L35 (-3.4925, -6.0325) -> (-4.1275, -6.0325)
  line L36 (-4.1275, -6.0325) -> (-4.1275, -6.6675)
  line L37 (-4.1275, -6.6675) -> (-3.4925, -6.6675)
  line L38 (-3.4925, -6.6675) -> (-3.4925, -6.0325)
  line L39 (-3.4925, -3.4925) -> (-4.1275, -3.4925)
  line L40 (-4.1275, -3.4925) -> (-4.1275, -4.1275)
  line L41 (-4.1275, -4.1275) -> (-3.4925, -4.1275)
  line L42 (-3.4925, -4.1275) -> (-3.4925, -3.4925)
  line L43 (-3.4925, -0.9525) -> (-4.1275, -0.9525)
  line L44 (-4.1275, -0.9525) -> (-4.1275, -1.5875)
  line L45 (-4.1275, -1.5875) -> (-3.4925, -1.5875)
  line L46 (-3.4925, -1.5875) -> (-3.4925, -0.9525)
  dimension "d35" = 2.54
  dimension "d38" = 2.54
extrude "Vysunutí4" add sketch "Náčrt4" along normal blind 3.81
chamfer "Zkosení1" distance 0.254 angle 60 4 edges at (-1.27, -3.81, -11.7475) (-1.5875, -3.81, -11.43) (-1.27, -3.81, -11.1125) (-0.9525, -3.81, -11.43) measured on face at (-1.3758, -3.81, -11.3242)
chamfer "Zkosení2" distance 0.254 angle 60 4 edges at (-3.81, -3.81, -11.7475) (-4.1275, -3.81, -11.43) (-3.4925, -3.81, -11.43) (-3.81, -3.81, -11.1125) measured on face at (-3.9158, -3.81, -11.3242)
chamfer "Zkosení3" distance 0.254 angle 60 4 edges at (-4.1275, -3.81, -8.89) (-3.81, -3.81, -9.2075) (-3.4925, -3.81, -8.89) (-3.81, -3.81, -8.5725) measured on face at (-3.9158, -3.81, -8.7842)
chamfer "Zkosení4" distance 0.254 angle 60 4 edges at (-1.5875, -3.81, -8.89) (-1.27, -3.81, -9.2075) (-0.9525, -3.81, -8.89) (-1.27, -3.81, -8.5725) measured on face at (-1.3758, -3.81, -8.7842)
chamfer "Zkosení5" distance 0.254 angle 60 4 edges at (-1.5875, -3.81, -6.35) (-1.27, -3.81, -6.6675) (-0.9525, -3.81, -6.35) (-1.27, -3.81, -6.0325) measured on face at (-1.3758, -3.81, -6.2442)
chamfer "Zkosení6" distance 0.254 angle 60 4 edges at (-4.1275, -3.81, -6.35) (-3.81, -3.81, -6.6675) (-3.4925, -3.81, -6.35) (-3.81, -3.81, -6.0325) measured on face at (-3.9158, -3.81, -6.2442)
chamfer "Zkosení7" distance 0.254 angle 60 4 edges at (-1.5875, -3.81, -3.81) (-1.27, -3.81, -4.1275) (-0.9525, -3.81, -3.81) (-1.27, -3.81, -3.4925) measured on face at (-1.3758, -3.81, -3.7042)
chamfer "Zkosení8" distance 0.254 angle 60 4 edges at (-4.1275, -3.81, -3.81) (-3.81, -3.81, -4.1275) (-3.81, -3.81, -3.4925) (-3.4925, -3.81, -3.81) measured on face at (-3.9158, -3.81, -3.7042)
chamfer "Zkosení9" distance 0.254 angle 60 4 edges at (-1.5875, -3.81, -1.27) (-1.27, -3.81, -1.5875) (-1.27, -3.81, -0.9525) (-0.9525, -3.81, -1.27) measured on face at (-1.3758, -3.81, -1.1642)
chamfer "Zkosení10" distance 0.254 angle 60 4 edges at (-3.81, -3.81, -1.5875) (-4.1275, -3.81, -1.27) (-3.81, -3.81, -0.9525) (-3.4925, -3.81, -1.27) measured on face at (-3.9158, -3.81, -1.1642)
properties part number "PinHeader-2x5-Female"
